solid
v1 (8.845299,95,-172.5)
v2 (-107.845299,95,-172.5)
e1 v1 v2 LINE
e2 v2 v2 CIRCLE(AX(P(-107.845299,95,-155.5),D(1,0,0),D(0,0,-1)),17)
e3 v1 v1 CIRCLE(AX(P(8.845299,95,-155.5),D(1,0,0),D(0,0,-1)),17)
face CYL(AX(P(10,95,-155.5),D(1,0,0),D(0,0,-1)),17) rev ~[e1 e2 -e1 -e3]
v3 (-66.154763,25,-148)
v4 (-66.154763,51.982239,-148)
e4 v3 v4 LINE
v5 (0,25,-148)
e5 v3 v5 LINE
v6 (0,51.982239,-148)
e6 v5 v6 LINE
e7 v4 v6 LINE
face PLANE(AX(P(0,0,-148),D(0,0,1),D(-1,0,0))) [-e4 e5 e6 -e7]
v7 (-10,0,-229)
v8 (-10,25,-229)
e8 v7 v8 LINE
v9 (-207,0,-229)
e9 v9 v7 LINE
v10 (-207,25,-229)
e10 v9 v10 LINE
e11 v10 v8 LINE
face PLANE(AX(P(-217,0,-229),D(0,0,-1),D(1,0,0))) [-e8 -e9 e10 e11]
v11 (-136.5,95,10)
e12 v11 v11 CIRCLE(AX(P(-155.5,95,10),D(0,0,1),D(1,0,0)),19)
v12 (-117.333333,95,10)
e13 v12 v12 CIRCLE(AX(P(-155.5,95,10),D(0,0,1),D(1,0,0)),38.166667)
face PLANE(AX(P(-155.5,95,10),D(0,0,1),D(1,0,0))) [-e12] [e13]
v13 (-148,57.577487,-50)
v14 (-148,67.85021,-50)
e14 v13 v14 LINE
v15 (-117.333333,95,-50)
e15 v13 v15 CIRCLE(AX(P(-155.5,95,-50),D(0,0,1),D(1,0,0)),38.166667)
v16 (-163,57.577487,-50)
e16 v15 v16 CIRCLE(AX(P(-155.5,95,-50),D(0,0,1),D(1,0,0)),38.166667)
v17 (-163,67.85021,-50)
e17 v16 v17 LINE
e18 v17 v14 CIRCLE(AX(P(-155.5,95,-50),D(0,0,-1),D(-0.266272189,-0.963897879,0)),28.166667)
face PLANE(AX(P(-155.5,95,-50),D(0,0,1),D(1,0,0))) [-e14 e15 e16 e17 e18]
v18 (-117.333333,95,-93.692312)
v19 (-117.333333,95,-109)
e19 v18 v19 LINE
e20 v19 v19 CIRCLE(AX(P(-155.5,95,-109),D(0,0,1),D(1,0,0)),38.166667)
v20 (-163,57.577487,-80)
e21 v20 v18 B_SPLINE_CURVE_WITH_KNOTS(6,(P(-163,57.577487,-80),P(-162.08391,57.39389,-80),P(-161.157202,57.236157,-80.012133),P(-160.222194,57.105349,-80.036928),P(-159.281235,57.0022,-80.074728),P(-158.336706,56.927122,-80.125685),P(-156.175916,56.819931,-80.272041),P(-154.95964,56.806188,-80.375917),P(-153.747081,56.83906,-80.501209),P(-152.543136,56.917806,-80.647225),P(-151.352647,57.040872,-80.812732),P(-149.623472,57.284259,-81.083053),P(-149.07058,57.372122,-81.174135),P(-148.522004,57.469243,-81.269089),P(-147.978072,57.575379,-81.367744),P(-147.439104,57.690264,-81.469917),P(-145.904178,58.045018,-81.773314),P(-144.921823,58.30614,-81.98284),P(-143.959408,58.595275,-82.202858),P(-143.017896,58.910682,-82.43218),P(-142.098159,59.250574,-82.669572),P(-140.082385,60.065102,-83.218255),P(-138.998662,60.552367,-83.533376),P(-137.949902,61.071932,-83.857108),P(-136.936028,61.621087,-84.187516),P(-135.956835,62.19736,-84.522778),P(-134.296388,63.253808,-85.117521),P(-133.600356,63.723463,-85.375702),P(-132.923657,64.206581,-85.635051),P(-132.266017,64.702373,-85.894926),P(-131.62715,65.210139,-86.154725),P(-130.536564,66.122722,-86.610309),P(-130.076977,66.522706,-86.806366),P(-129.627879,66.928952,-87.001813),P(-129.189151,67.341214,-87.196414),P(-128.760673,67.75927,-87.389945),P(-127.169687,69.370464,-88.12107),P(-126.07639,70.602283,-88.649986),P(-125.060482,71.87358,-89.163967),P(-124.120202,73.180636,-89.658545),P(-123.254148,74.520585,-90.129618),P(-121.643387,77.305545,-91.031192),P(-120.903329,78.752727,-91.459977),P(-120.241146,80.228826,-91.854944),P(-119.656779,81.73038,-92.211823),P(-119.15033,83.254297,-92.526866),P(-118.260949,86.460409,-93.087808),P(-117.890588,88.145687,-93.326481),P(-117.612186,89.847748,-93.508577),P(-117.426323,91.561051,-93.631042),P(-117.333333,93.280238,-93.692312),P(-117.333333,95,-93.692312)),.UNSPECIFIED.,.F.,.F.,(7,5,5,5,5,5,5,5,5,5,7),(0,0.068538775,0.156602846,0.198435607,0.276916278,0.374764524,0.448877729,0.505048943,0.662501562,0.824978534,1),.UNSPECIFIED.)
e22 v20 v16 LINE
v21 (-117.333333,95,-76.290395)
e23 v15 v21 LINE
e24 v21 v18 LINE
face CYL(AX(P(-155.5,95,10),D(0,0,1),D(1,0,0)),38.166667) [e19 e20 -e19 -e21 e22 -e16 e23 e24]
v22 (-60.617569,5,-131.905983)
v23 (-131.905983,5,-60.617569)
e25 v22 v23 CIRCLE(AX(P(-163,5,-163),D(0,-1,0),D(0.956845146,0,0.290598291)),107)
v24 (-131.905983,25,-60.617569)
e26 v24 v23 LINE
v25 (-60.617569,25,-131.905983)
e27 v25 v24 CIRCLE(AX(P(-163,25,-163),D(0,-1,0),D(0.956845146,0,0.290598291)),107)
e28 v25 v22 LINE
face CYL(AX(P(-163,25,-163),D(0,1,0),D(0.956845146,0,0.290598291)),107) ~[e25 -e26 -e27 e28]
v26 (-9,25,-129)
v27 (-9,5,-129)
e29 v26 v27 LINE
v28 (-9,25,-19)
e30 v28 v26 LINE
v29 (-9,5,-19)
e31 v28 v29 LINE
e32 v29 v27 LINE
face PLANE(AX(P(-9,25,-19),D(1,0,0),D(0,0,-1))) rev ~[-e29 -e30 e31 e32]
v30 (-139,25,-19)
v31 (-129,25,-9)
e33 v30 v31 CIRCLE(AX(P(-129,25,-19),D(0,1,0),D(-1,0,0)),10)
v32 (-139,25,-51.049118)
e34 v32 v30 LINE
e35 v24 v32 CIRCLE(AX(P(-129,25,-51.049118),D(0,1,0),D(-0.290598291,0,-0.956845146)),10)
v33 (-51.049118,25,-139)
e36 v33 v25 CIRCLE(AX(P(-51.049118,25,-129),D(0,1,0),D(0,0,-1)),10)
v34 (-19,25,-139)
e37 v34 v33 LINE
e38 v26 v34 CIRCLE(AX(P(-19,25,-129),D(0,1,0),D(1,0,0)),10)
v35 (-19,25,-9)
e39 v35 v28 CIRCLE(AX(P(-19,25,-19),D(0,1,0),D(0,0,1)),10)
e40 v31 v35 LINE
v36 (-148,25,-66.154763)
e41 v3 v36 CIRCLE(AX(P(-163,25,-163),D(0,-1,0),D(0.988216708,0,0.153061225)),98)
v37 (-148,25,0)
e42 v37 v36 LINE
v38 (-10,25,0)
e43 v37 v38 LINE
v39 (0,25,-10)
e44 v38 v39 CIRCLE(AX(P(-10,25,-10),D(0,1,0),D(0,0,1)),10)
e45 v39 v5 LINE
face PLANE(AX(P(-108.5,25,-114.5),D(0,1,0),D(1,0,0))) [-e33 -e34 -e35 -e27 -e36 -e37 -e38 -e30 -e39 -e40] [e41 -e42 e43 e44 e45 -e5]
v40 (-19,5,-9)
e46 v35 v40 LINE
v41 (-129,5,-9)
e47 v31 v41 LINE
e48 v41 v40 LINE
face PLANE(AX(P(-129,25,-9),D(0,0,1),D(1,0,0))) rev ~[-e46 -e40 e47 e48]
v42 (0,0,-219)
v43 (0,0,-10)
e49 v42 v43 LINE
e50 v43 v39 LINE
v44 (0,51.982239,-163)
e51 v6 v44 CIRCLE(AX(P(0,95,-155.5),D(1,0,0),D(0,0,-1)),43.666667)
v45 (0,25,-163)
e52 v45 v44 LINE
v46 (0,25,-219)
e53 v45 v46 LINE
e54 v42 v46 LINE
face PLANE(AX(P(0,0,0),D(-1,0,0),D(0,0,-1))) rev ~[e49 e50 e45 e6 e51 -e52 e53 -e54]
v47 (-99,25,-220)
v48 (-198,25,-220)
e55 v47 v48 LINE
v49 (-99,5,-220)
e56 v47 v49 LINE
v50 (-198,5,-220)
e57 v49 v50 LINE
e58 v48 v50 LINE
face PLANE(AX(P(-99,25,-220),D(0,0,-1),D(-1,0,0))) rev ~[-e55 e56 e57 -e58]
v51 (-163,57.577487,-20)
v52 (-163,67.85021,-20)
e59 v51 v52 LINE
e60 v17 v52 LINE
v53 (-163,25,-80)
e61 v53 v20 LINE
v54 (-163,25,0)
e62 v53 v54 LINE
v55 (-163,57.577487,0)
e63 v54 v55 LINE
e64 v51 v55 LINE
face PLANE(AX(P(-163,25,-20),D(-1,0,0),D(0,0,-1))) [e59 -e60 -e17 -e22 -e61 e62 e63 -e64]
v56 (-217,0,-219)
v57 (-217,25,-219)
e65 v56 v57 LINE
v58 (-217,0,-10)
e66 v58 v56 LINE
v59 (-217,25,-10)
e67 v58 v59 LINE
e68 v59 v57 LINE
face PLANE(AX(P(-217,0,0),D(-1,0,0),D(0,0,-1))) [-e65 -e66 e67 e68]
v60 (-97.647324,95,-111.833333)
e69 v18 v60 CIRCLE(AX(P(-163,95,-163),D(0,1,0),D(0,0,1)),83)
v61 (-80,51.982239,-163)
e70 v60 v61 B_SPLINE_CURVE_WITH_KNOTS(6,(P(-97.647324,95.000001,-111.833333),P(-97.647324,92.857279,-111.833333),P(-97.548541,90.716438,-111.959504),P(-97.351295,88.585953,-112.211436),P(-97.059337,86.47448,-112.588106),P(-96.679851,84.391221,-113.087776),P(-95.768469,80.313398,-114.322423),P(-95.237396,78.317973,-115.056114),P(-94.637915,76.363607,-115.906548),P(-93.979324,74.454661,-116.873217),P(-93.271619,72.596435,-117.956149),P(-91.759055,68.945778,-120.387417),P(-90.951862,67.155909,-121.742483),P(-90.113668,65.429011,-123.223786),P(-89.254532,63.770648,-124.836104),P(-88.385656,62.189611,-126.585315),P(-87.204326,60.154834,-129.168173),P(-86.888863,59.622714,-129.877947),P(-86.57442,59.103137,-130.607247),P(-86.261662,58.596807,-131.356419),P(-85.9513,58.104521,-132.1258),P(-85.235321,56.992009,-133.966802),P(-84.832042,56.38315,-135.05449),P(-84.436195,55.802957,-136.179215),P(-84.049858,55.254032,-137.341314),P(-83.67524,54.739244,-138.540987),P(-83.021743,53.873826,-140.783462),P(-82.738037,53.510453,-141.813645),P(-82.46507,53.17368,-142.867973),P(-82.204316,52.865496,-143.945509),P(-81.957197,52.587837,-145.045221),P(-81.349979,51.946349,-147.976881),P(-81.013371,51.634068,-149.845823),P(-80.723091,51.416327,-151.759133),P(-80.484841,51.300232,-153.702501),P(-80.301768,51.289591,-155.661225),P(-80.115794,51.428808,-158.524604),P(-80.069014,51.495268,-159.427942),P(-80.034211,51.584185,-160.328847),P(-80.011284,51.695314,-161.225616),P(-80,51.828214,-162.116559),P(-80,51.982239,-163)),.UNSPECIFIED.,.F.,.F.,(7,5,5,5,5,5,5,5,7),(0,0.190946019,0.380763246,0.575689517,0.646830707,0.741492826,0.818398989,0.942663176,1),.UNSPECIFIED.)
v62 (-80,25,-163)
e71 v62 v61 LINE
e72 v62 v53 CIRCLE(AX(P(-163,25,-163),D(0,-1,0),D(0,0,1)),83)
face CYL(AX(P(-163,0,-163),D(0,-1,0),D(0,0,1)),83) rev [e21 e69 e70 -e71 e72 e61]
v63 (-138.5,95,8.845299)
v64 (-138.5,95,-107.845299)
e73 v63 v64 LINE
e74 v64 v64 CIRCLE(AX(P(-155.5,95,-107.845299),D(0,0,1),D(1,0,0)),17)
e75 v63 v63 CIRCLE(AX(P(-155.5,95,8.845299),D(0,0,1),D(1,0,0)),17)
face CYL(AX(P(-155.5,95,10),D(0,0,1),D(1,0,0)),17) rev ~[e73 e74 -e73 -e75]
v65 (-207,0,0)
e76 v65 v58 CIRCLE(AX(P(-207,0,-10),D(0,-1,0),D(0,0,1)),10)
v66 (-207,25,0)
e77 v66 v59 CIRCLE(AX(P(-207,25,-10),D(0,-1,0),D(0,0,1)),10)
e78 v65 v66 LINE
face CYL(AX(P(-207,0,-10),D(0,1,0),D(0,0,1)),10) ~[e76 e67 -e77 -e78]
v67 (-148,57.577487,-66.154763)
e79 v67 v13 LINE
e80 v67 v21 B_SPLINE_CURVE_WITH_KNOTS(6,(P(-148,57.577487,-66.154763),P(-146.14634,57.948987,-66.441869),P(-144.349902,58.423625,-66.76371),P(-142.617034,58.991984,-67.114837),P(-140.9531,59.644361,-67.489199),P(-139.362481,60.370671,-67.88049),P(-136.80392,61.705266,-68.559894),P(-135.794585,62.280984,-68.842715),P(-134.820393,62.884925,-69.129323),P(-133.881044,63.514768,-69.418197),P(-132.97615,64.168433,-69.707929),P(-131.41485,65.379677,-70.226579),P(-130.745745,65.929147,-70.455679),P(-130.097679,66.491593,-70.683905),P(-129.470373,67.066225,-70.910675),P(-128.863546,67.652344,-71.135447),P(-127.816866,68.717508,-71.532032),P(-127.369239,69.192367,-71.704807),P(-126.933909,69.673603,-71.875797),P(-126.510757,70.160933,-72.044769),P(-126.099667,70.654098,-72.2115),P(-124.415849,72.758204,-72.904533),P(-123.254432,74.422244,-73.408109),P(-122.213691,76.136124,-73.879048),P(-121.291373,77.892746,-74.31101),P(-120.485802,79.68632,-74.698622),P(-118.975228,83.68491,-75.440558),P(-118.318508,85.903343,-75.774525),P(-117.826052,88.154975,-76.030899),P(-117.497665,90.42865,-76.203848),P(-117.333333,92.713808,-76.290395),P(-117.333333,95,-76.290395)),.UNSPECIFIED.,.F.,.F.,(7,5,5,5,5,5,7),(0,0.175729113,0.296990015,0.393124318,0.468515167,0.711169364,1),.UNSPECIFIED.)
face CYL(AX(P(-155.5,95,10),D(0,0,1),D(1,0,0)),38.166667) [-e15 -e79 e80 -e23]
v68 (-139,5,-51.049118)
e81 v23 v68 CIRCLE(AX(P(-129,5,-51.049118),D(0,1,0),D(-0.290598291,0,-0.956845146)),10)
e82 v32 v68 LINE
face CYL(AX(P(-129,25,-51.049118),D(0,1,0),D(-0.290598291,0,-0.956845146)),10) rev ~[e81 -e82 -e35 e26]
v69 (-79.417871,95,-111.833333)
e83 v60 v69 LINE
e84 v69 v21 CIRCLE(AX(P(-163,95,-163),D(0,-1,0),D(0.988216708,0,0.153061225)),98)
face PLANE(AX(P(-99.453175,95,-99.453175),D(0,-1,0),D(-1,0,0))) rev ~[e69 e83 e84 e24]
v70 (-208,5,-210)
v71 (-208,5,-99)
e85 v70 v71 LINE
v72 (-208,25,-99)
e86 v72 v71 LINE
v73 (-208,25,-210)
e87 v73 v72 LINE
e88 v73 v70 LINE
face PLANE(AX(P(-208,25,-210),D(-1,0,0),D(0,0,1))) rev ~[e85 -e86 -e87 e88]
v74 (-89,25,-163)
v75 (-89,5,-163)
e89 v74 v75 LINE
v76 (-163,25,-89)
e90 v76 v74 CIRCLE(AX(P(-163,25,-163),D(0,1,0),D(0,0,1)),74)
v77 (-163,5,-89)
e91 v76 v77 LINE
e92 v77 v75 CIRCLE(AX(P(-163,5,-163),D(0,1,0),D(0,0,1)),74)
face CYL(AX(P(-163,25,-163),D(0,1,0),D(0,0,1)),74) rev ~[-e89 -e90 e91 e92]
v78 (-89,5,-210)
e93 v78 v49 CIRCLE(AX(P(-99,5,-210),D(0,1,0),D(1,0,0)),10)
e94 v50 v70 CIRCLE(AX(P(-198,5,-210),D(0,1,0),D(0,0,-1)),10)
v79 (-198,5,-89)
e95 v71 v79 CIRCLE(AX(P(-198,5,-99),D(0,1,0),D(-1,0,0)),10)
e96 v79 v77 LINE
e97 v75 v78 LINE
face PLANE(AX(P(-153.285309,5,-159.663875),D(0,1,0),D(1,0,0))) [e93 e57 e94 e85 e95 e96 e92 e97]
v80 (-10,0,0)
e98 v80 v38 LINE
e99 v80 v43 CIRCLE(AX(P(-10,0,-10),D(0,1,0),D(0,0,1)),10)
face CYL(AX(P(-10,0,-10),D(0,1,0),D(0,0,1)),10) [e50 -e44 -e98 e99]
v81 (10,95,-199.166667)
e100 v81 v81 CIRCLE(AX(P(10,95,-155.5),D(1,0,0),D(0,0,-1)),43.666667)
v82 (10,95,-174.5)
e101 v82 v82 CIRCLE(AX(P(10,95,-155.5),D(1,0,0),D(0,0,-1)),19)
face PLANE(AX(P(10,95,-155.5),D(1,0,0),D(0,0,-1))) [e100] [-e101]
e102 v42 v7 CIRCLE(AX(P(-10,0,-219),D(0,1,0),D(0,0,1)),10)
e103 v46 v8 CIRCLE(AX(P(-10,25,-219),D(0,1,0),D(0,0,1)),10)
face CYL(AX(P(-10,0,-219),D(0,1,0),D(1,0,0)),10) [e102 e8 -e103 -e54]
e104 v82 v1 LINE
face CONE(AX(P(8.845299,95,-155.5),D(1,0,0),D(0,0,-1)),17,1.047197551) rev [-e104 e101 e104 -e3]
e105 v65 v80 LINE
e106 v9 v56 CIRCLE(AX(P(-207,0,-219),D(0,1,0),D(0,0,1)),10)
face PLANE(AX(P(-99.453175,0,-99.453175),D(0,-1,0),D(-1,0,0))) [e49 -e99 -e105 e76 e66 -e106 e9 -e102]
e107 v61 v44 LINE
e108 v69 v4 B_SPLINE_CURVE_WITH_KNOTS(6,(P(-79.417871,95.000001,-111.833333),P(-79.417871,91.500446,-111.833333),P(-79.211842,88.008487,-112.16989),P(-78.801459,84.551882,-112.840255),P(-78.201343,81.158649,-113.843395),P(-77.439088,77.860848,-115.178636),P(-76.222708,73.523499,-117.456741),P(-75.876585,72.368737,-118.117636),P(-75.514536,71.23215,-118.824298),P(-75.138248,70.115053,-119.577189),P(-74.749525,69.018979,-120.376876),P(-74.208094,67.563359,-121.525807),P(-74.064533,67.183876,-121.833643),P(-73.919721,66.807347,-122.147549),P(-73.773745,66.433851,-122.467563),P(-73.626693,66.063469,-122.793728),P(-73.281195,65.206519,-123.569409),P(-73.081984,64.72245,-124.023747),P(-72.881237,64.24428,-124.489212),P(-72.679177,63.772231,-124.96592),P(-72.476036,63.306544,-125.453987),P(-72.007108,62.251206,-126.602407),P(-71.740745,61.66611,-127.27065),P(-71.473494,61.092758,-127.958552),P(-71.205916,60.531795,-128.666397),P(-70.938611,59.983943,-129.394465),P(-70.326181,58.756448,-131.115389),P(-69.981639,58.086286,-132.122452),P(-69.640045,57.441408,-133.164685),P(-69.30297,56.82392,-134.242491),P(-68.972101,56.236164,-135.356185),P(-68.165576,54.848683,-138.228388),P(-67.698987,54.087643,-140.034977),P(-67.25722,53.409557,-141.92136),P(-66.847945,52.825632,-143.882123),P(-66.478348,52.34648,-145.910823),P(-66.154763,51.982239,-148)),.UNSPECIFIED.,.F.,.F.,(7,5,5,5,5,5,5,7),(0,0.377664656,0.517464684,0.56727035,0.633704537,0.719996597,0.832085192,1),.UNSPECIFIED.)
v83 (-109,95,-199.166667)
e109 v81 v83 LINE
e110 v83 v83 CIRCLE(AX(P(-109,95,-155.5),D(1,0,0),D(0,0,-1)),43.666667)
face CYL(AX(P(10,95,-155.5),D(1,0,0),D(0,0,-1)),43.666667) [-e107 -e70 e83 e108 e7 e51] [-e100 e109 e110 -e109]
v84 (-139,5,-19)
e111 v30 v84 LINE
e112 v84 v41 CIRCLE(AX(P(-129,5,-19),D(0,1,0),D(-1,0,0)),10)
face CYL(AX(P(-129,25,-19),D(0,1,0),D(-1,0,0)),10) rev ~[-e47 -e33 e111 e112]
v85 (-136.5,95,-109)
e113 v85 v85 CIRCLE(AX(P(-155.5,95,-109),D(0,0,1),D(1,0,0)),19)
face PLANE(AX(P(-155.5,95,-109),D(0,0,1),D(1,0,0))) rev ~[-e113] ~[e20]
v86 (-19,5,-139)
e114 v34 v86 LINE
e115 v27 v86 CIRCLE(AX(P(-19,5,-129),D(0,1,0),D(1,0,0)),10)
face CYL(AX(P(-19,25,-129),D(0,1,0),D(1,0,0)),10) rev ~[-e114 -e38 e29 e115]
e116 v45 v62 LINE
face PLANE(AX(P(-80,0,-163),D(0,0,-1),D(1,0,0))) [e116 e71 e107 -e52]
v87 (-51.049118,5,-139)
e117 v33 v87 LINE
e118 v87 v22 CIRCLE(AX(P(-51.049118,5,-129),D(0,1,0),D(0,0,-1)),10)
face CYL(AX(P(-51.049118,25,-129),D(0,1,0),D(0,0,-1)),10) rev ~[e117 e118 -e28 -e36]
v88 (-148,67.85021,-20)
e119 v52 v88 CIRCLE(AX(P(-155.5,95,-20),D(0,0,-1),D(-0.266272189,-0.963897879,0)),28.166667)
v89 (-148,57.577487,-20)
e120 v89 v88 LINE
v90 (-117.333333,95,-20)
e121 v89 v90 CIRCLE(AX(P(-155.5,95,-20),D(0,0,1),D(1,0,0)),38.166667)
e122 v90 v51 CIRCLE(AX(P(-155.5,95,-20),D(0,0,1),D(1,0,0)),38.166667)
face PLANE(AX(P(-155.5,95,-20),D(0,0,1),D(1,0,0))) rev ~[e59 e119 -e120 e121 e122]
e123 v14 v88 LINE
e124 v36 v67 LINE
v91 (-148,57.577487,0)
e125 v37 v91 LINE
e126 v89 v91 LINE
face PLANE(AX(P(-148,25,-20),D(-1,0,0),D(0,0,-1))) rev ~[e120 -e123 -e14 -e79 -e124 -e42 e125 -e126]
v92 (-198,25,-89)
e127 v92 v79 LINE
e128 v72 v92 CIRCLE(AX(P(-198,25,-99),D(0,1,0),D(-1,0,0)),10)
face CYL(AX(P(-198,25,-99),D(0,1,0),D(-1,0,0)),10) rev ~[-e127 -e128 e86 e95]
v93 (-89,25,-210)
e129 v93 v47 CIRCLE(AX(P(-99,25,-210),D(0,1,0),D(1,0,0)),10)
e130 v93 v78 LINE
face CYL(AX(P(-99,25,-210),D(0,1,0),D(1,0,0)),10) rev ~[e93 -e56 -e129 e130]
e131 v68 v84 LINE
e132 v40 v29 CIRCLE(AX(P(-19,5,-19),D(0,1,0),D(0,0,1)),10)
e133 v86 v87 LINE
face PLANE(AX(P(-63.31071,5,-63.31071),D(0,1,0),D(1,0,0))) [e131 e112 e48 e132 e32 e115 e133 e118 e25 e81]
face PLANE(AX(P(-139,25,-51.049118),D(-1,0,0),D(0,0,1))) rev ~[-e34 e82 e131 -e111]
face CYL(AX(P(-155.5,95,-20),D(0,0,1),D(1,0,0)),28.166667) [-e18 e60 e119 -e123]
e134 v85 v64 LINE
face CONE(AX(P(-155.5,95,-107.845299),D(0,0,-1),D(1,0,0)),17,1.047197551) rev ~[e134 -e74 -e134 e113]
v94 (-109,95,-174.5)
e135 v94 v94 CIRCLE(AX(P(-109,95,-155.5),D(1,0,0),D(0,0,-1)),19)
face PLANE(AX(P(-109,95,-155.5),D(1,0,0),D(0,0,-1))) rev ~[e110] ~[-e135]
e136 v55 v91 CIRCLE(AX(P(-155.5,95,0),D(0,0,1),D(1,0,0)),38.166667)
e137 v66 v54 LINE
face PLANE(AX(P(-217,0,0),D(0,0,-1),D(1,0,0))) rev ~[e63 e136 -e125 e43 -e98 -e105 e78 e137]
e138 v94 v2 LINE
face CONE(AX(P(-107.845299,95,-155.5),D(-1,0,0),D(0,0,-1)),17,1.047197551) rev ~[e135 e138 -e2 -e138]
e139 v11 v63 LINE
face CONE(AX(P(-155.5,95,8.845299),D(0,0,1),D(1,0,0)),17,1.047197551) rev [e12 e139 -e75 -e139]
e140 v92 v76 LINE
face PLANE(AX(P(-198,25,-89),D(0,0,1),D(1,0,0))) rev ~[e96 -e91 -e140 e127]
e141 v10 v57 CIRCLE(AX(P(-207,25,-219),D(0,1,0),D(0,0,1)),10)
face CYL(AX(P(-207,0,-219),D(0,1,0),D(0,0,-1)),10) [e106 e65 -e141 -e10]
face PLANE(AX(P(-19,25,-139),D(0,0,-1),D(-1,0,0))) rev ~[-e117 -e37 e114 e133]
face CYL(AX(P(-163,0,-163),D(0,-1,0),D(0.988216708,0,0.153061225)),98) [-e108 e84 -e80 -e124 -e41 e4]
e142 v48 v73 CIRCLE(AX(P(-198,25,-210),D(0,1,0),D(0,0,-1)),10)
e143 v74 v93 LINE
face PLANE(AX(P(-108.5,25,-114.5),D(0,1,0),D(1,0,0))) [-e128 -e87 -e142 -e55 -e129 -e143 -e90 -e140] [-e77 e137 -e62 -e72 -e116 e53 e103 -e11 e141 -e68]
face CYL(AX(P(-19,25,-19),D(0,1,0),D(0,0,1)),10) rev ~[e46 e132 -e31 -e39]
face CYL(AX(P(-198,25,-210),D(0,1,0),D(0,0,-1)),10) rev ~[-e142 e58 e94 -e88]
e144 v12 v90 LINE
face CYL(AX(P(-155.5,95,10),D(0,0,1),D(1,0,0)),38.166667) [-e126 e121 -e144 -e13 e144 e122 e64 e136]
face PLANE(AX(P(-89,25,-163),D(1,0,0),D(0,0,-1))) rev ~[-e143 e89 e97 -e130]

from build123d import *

# Parameters (mm, degrees)
SKETCH1_W             = 217
SKETCH1_H             = 229
BOSS_EXTRUDE1_DEPTH   = 25
EXTRUDE_THIN1_START   = -25
EXTRUDE_THIN1_DEPTH   = 95
FILLET1_R             = 10
CUT_EXTRUDE1_DEPTH    = 20
BOSS_EXTRUDE3_START   = 10
SKETCH10_R            = 38.166666667
BOSS_EXTRUDE3_DEPTH   = 119
SKETCH11_R            = 17
CUT_EXTRUDE2_DEPTH    = 119
BOSS_EXTRUDE4_START   = 10
SKETCH12_R            = 43.666666667
BOSS_EXTRUDE4_DEPTH   = 119
SKETCH13_R            = 17
CUT_EXTRUDE3_DEPTH    = 119
CHAMFER1_SIZE         = 2
CHAMFER1_SIZE2        = 1.154700538
CHAMFER1_PART_2_SIZE  = 2
CHAMFER1_PART_2_SIZE2 = 1.154700538
CHAMFER1_PART_3_SIZE  = 2
CHAMFER1_PART_3_SIZE2 = 1.154700538
CHAMFER1_PART_4_SIZE  = 2
CHAMFER1_PART_4_SIZE2 = 1.154700538
CUT_EXTRUDE4_DEPTH    = 20
CUT_EXTRUDE5_START    = -30
SKETCH16_R            = 38.166666667
SKETCH16_R_2          = 28.166666667
CUT_EXTRUDE5_DEPTH    = 30
BOSS_EXTRUDE5_REACH   = 115.667
SKETCH17_W            = 15
SKETCH17_H            = 30


with BuildPart() as part:
    # Sketch1 → Boss-Extrude1 (new body)
    with BuildSketch(Plane(origin=(0, 0, 0), x_dir=(1, 0, 0), z_dir=(0, 1, 0))):
        with Locations((-108.5, 114.5)):
            Rectangle(SKETCH1_W, SKETCH1_H)
    extrude(amount=BOSS_EXTRUDE1_DEPTH)

    # Sketch2 → Extrude-Thin1 (add)
    with BuildSketch(Plane(origin=(0, 25, 0), x_dir=(1, 0, 0), z_dir=(0, 1, 0)).offset(EXTRUDE_THIN1_START)):
        with BuildLine():
            Line((-163, 0), (-163, 80))
            ThreePointArc((-163, 80), (-104.310137162, 104.310137162), (-80, 163))
            Line((-80, 163), (0, 163))
            Line((0, 163), (0, 148))
            Line((0, 148), (-66.154762636, 148))
            ThreePointArc((-66.154762636, 148), (-93.703535444, 93.703535444), (-148, 66.154762636))
            Line((-148, 66.154762636), (-148, 0))
            Line((-148, 0), (-163, 0))
        make_face()
    extrude(amount=EXTRUDE_THIN1_DEPTH)

    # Fillet1
    fillet1_edges = [part.edges().sort_by_distance(p)[0] for p in [
        (0, 12.5, 0),
        (-217, 12.5, 0),
        (-217, 12.5, -229),
        (0, 12.5, -229),
    ]]
    fillet(fillet1_edges, radius=FILLET1_R)

    # Sketch9 → Cut-Extrude1 (cut)
    with BuildSketch(Plane(origin=(0, 25, 0), x_dir=(1, 0, 0), z_dir=(0, 1, 0))):
        with BuildLine():
            Line((-129, 9), (-19, 9))
            ThreePointArc((-19, 9), (-11.928932188, 11.928932188), (-9, 19))
            Line((-9, 19), (-9, 129))
            ThreePointArc((-9, 129), (-11.928932188, 136.071067812), (-19, 139))
            Line((-19, 139), (-51.049117913, 139))
            ThreePointArc((-51.049117913, 139), (-57.004794657, 137.033051383), (-60.617569374, 131.905982906))
            ThreePointArc((-60.617569374, 131.905982906), (-87.339574413, 87.339574413), (-131.905982906, 60.617569374))
            ThreePointArc((-131.905982906, 60.617569374), (-137.033051383, 57.004794657), (-139, 51.049117913))
            Line((-139, 51.049117913), (-139, 19))
            ThreePointArc((-139, 19), (-136.071067812, 11.928932188), (-129, 9))
        make_face()
    extrude(amount=-CUT_EXTRUDE1_DEPTH, mode=Mode.SUBTRACT)

    # Sketch10 → Boss-Extrude3 (add)
    with BuildSketch(Plane.XY.offset(BOSS_EXTRUDE3_START)):
        with Locations((-155.5, 95)):
            Circle(SKETCH10_R)
    extrude(amount=-BOSS_EXTRUDE3_DEPTH)

    # Sketch11 → Cut-Extrude2 (cut)
    with BuildSketch(Plane.XY.offset(10)):
        with Locations((-155.5, 95)):
            Circle(SKETCH11_R)
    extrude(amount=-CUT_EXTRUDE2_DEPTH, mode=Mode.SUBTRACT)

    # Sketch12 → Boss-Extrude4 (add)
    with BuildSketch(Plane(origin=(0, 0, 0), x_dir=(0, 0, -1), z_dir=(1, 0, 0)).offset(BOSS_EXTRUDE4_START)):
        with Locations((155.5, 95)):
            Circle(SKETCH12_R)
    extrude(amount=-BOSS_EXTRUDE4_DEPTH)

    # Sketch13 → Cut-Extrude3 (cut)
    with BuildSketch(Plane(origin=(10, 0, 0), x_dir=(0, 0, -1), z_dir=(1, 0, 0))):
        with Locations((155.5, 95)):
            Circle(SKETCH13_R)
    extrude(amount=-CUT_EXTRUDE3_DEPTH, mode=Mode.SUBTRACT)

    # Chamfer1
    chamfer1_edges = [part.edges().sort_by_distance(p)[0] for p in [
        (-172.5, 95, 10),
    ]]
    chamfer1_side = [part.faces().sort_by_distance(p)[0] for p in [
        (-192.587150314, 95, 10),
    ]]
    chamfer(chamfer1_edges, length=CHAMFER1_SIZE, length2=CHAMFER1_SIZE2, reference=chamfer1_side[0])

    # Chamfer1 part 2
    chamfer1_part_2_edges = [part.edges().sort_by_distance(p)[0] for p in [
        (-172.5, 95, -109),
    ]]
    chamfer1_part_2_side = [part.faces().sort_by_distance(p)[0] for p in [
        (-192.587150314, 95, -109),
    ]]
    chamfer(chamfer1_part_2_edges, length=CHAMFER1_PART_2_SIZE, length2=CHAMFER1_PART_2_SIZE2, reference=chamfer1_part_2_side[0])

    # Chamfer1 part 3
    chamfer1_part_3_edges = [part.edges().sort_by_distance(p)[0] for p in [
        (10, 95, -138.5),
    ]]
    chamfer1_part_3_side = [part.faces().sort_by_distance(p)[0] for p in [
        (10, 95, -113.068413178),
    ]]
    chamfer(chamfer1_part_3_edges, length=CHAMFER1_PART_3_SIZE, length2=CHAMFER1_PART_3_SIZE2, reference=chamfer1_part_3_side[0])

    # Chamfer1 part 4
    chamfer1_part_4_edges = [part.edges().sort_by_distance(p)[0] for p in [
        (-109, 95, -138.5),
    ]]
    chamfer1_part_4_side = [part.faces().sort_by_distance(p)[0] for p in [
        (-109, 95, -113.068413178),
    ]]
    chamfer(chamfer1_part_4_edges, length=CHAMFER1_PART_4_SIZE, length2=CHAMFER1_PART_4_SIZE2, reference=chamfer1_part_4_side[0])

    # Sketch15 → Cut-Extrude4 (cut)
    with BuildSketch(Plane(origin=(0, 25, 0), x_dir=(1, 0, 0), z_dir=(0, 1, 0))):
        with BuildLine():
            Line((-89, 163), (-89, 210))
            ThreePointArc((-89, 210), (-91.928932188, 217.071067812), (-99, 220))
            Line((-99, 220), (-198, 220))
            ThreePointArc((-198, 220), (-205.071067812, 217.071067812), (-208, 210))
            Line((-208, 210), (-208, 99))
            ThreePointArc((-208, 99), (-205.071067812, 91.928932188), (-198, 89))
            Line((-198, 89), (-163, 89))
            ThreePointArc((-163, 89), (-110.674098192, 110.674098192), (-89, 163))
        make_face()
    extrude(amount=-CUT_EXTRUDE4_DEPTH, mode=Mode.SUBTRACT)

    # Sketch16 → Cut-Extrude5 (cut)
    with BuildSketch(Plane.XY.offset(10).offset(CUT_EXTRUDE5_START)):
        with Locations((-155.5, 95)):
            Circle(SKETCH16_R)
        with Locations((-155.5, 95)):
            Circle(SKETCH16_R_2, mode=Mode.SUBTRACT)
    extrude(amount=-CUT_EXTRUDE5_DEPTH, mode=Mode.SUBTRACT)

    # Sketch17 → Boss-Extrude5 (add, up to next)
    with BuildSketch(Plane(origin=(0, 25, 0), x_dir=(1, 0, 0), z_dir=(0, 1, 0)), mode=Mode.PRIVATE) as boss_extrude5_sk1:
        with Locations((-155.5, 35)):
            Rectangle(SKETCH17_W, SKETCH17_H)
    boss_extrude5_tool1 = extrude(boss_extrude5_sk1.sketch, amount=BOSS_EXTRUDE5_REACH, mode=Mode.PRIVATE) - part.part
    add(boss_extrude5_tool1.solids().sort_by_distance((-155.5, 25, -35))[0])


solid = part.part
